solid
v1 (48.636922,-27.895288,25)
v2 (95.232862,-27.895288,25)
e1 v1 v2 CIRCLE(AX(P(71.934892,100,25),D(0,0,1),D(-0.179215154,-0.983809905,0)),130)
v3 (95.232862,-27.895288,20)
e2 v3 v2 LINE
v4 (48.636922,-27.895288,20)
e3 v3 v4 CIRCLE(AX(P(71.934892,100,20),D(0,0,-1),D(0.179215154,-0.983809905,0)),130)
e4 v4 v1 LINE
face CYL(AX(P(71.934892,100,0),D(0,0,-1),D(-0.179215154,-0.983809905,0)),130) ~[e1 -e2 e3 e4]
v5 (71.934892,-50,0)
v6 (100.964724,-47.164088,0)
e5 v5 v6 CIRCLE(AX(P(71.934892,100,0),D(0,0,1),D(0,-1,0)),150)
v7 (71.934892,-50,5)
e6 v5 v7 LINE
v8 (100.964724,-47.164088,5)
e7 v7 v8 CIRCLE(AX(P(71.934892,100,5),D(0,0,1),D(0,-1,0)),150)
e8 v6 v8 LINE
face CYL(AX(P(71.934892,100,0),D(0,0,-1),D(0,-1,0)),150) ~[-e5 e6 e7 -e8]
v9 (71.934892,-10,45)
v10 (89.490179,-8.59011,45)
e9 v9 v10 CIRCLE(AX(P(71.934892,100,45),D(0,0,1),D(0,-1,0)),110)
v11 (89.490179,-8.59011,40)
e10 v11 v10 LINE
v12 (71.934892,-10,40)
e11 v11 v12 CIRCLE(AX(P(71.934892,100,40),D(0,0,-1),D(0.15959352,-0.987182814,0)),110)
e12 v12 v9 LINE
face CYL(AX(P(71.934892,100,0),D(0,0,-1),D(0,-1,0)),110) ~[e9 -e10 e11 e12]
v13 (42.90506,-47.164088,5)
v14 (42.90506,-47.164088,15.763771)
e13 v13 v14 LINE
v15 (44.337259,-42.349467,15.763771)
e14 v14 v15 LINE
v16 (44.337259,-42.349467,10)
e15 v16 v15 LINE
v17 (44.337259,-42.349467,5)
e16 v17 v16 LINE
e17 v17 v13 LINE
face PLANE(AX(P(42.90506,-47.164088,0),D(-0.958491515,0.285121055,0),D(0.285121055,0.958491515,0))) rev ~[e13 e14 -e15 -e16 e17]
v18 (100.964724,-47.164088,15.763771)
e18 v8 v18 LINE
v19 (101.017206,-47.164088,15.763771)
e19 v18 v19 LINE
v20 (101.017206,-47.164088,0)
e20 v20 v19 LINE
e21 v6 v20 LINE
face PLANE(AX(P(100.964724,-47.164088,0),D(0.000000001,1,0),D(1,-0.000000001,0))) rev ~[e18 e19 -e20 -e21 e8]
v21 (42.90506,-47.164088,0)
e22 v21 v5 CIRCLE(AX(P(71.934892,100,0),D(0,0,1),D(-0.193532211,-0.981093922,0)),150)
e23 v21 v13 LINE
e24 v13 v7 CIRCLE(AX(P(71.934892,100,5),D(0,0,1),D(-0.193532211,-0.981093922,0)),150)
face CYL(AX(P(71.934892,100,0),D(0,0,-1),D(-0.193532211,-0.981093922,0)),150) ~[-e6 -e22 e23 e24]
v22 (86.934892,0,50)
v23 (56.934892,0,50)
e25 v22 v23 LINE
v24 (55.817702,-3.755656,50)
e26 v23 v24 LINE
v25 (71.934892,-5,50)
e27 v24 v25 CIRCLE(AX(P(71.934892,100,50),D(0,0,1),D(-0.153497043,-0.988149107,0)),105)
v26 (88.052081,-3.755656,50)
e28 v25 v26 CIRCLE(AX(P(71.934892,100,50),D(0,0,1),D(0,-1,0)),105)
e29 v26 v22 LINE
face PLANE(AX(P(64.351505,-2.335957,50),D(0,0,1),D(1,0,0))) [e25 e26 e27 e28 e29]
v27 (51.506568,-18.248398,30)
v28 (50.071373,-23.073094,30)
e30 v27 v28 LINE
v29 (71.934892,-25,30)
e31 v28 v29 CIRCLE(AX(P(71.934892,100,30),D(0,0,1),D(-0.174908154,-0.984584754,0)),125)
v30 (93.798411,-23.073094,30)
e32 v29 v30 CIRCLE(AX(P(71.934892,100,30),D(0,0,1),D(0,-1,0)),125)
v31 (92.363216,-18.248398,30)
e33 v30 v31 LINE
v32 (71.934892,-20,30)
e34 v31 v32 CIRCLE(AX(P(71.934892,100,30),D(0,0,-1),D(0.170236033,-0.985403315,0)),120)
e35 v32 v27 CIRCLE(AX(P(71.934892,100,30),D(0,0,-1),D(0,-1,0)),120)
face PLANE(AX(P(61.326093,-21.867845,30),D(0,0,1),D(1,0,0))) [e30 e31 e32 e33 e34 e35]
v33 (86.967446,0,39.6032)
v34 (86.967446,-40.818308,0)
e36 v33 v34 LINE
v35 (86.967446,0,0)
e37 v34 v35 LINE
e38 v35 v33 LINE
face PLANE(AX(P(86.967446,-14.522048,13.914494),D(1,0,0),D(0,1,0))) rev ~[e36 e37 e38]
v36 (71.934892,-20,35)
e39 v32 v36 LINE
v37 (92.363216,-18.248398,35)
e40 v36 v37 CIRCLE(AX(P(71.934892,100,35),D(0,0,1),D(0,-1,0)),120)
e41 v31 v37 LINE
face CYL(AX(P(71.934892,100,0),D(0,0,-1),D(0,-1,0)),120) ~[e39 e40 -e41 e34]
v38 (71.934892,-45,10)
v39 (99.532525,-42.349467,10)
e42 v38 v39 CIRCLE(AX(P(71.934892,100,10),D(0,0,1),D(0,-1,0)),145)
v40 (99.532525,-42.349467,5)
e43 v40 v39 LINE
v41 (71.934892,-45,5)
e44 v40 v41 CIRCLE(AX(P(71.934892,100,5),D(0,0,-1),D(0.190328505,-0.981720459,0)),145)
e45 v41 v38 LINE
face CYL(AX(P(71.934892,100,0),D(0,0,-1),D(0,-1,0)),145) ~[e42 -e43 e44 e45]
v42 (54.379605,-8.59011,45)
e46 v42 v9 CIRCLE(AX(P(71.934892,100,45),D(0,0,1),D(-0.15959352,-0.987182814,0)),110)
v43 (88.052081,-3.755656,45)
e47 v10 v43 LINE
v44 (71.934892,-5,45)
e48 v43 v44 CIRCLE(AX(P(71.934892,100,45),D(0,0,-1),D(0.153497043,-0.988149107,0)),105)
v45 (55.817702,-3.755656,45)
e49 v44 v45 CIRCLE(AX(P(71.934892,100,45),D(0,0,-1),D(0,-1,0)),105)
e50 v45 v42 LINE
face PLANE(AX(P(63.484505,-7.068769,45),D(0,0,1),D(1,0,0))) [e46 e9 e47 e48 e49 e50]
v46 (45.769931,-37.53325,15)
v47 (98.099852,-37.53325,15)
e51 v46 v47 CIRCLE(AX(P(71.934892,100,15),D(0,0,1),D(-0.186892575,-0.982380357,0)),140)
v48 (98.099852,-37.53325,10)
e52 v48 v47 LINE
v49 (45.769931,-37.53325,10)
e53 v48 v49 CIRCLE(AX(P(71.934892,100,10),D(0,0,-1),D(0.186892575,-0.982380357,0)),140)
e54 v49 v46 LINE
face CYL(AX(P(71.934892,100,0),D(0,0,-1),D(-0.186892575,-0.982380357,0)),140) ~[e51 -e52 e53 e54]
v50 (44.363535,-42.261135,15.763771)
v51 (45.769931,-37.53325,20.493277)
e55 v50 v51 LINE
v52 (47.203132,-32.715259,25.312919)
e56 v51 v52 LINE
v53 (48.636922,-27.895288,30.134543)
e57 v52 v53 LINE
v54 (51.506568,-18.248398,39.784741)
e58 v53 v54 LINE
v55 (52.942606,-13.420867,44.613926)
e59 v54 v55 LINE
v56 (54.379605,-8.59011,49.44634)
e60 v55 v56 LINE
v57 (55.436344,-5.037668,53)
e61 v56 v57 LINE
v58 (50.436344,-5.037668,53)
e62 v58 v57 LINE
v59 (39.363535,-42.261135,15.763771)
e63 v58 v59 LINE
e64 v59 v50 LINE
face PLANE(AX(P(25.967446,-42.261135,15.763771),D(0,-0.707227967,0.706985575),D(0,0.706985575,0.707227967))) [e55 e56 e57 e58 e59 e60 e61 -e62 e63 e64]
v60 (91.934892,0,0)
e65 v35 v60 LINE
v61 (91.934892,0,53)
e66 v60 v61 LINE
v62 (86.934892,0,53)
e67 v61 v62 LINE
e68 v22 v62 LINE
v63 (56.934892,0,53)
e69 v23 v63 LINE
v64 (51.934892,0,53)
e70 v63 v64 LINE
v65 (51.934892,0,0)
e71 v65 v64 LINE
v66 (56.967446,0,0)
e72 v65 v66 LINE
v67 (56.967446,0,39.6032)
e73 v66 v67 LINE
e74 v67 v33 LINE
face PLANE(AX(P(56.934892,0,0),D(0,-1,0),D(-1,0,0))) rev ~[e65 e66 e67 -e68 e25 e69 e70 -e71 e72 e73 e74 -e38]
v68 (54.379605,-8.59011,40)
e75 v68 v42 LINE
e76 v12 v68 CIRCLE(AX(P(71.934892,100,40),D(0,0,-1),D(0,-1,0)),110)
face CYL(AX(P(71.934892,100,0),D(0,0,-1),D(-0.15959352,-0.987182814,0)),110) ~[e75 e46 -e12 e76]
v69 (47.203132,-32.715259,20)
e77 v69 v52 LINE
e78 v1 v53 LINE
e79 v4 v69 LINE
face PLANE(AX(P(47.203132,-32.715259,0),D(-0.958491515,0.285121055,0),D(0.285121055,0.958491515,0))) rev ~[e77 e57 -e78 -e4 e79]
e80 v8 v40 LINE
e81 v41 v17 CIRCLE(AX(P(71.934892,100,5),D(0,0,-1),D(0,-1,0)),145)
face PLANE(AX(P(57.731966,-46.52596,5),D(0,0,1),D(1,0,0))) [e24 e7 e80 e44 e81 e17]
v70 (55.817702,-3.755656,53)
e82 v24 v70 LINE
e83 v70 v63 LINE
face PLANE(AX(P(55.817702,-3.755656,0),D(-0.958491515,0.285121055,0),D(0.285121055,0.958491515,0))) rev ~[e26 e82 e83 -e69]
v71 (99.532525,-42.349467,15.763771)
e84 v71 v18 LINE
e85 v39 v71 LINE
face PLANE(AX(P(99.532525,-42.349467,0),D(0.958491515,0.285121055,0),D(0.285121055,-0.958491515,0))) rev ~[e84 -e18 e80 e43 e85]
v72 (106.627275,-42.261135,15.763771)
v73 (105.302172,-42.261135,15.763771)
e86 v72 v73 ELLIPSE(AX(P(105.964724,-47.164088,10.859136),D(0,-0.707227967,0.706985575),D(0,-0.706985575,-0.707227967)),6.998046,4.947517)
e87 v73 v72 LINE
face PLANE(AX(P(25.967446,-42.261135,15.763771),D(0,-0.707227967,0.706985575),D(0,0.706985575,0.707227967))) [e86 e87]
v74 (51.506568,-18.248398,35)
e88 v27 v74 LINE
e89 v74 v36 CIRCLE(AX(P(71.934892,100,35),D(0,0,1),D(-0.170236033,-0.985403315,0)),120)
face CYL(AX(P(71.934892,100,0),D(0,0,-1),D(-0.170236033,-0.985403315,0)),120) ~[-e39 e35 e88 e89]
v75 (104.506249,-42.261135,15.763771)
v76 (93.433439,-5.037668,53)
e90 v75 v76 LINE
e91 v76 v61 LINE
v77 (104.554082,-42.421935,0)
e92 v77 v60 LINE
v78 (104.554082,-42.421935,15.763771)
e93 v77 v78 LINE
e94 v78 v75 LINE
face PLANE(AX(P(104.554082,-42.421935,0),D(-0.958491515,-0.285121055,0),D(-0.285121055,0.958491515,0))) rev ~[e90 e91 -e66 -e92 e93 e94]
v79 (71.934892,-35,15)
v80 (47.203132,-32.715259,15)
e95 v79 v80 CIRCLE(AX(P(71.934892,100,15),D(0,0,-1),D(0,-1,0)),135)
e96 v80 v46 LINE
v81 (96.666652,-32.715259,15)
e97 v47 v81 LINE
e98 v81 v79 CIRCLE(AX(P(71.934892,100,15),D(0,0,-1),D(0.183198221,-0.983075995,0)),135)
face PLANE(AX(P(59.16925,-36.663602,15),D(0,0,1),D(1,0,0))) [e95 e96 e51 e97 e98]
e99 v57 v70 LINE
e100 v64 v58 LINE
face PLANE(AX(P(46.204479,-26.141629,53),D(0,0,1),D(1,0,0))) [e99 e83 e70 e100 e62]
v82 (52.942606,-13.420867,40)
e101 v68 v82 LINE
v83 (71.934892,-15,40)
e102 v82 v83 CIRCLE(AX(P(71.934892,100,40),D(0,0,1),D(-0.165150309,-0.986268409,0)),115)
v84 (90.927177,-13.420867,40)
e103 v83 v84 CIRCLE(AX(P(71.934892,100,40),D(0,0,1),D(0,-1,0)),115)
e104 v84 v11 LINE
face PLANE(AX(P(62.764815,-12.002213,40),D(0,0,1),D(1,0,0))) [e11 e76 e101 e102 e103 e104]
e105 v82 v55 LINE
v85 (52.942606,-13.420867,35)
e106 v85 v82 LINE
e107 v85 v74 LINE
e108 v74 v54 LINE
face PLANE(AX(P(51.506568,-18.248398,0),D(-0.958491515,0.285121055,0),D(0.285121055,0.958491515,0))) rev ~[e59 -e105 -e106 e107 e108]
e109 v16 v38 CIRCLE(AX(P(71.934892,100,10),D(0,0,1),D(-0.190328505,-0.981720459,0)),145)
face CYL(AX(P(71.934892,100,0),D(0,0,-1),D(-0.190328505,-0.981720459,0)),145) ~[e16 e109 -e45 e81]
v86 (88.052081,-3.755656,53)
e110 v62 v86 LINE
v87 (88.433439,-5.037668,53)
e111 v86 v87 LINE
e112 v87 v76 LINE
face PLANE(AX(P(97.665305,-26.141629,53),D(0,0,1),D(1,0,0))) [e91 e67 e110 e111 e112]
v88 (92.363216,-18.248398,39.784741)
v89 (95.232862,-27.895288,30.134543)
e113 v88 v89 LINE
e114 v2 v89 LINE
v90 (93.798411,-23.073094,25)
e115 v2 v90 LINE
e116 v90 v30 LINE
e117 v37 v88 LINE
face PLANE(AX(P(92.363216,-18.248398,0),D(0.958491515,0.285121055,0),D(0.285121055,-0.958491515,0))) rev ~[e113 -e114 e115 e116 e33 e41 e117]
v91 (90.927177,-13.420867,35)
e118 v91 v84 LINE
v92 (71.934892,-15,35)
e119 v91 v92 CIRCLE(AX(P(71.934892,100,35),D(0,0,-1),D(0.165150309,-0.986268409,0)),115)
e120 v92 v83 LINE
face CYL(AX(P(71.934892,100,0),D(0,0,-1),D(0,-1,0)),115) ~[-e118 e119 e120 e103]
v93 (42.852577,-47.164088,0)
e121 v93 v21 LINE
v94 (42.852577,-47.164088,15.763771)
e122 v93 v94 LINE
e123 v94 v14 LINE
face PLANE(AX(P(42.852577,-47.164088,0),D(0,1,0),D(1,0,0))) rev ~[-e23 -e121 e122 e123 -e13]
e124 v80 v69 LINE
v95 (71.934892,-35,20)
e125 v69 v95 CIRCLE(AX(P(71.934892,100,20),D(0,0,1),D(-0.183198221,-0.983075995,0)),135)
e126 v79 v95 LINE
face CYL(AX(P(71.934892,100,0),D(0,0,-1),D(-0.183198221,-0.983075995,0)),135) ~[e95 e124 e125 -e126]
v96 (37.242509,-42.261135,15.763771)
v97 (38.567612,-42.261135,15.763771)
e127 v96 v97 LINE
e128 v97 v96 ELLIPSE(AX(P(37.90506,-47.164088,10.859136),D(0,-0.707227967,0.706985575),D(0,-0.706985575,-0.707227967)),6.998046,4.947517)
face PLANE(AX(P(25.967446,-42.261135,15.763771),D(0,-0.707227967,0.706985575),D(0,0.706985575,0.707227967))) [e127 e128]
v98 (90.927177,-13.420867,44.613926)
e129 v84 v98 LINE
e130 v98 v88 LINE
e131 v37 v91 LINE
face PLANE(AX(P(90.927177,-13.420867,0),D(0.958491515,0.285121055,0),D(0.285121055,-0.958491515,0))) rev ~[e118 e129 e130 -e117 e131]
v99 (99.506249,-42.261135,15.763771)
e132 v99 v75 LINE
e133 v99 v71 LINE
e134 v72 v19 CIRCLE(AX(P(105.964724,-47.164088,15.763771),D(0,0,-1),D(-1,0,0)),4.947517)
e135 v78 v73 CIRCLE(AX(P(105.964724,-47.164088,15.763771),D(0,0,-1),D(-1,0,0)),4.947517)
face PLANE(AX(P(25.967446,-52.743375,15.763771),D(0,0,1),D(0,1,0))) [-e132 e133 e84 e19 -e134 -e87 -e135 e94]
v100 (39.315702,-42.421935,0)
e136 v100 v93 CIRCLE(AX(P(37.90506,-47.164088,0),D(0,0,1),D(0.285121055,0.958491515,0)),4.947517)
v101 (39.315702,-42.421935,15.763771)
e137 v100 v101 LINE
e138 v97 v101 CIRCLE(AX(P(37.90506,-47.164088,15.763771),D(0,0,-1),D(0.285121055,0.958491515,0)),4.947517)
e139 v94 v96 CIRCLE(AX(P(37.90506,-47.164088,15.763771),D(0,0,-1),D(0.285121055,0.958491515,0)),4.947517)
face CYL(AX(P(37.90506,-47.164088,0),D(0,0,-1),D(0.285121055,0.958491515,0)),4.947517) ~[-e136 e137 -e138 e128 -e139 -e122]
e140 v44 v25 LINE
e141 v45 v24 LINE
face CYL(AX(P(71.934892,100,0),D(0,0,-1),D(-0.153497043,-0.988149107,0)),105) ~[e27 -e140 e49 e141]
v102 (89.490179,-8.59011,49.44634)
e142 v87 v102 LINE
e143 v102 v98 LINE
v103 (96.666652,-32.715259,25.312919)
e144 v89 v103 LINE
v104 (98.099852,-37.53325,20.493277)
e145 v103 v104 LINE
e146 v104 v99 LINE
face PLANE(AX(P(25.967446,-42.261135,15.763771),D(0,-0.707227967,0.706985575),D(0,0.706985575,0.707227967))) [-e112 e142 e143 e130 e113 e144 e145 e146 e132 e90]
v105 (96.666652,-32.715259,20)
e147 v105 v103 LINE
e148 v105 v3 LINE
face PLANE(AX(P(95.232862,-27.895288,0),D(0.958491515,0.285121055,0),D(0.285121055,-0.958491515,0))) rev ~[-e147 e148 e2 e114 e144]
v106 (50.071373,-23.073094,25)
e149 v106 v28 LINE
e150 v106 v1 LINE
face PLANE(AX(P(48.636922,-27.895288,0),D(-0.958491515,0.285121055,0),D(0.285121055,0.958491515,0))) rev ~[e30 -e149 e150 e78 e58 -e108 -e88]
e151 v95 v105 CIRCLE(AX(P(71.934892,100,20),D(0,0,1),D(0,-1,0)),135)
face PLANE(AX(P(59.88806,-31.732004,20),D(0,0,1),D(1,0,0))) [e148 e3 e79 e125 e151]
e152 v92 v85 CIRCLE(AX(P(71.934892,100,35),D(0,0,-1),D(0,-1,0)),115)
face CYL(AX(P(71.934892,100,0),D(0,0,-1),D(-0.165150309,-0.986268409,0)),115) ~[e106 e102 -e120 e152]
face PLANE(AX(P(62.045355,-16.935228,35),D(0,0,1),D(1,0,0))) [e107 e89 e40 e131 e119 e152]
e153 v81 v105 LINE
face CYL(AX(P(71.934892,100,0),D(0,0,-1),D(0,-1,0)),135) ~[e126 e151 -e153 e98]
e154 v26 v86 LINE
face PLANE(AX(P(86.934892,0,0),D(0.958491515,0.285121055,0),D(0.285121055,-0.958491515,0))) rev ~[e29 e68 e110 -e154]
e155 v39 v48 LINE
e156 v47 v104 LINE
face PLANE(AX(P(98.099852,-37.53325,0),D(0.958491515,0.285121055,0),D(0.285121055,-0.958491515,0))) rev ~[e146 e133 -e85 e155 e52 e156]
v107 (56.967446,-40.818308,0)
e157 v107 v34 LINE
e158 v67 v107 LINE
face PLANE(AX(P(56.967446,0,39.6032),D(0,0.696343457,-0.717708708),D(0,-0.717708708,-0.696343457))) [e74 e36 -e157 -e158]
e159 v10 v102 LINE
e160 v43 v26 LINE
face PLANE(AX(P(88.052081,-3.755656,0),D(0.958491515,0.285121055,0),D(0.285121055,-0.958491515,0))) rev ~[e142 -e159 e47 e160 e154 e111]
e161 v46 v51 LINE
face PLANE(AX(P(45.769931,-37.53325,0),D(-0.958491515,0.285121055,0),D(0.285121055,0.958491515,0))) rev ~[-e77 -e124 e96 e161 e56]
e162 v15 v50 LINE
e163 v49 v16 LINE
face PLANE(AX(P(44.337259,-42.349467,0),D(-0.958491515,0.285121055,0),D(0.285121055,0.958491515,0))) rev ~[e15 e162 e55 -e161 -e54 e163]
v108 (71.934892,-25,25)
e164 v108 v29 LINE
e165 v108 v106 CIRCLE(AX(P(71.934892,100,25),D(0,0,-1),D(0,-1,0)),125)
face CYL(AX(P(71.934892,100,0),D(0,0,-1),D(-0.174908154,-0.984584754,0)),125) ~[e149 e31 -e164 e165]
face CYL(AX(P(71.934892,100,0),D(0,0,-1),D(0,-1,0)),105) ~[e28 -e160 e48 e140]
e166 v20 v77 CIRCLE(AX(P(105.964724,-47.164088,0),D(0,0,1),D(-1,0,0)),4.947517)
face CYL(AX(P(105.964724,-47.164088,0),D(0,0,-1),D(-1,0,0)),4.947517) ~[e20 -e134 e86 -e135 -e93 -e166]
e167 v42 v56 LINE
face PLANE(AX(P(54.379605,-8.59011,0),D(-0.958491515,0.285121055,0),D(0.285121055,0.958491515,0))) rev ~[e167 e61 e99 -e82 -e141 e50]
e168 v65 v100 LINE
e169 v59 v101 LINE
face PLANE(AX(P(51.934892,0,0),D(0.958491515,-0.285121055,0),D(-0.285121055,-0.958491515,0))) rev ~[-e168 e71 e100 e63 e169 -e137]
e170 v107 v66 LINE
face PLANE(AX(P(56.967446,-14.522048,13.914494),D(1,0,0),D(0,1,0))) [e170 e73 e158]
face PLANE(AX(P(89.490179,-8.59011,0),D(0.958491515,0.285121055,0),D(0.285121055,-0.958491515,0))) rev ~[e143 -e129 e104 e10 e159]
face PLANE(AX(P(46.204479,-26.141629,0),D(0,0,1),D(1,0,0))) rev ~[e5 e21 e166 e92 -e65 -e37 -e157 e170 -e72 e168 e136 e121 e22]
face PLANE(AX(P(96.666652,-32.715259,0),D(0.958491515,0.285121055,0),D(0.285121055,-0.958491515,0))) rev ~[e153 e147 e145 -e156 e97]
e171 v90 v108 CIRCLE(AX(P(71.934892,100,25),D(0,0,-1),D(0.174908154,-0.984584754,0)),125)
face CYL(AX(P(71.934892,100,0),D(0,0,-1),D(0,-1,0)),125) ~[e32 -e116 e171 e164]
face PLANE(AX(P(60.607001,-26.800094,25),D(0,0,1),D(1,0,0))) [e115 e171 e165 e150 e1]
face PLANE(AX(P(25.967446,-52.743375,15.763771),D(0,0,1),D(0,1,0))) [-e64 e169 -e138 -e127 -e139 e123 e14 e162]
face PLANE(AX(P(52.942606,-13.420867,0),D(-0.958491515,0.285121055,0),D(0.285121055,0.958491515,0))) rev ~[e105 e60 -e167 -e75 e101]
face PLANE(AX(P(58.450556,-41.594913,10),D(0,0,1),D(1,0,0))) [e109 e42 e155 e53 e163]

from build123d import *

# Parameters (mm, degrees)
F1_DEPTH  = 10
F2_DEPTH  = 20
F3_DEPTH  = 30
F4_DEPTH  = 40
F5_DEPTH  = 50
F6_DEPTH  = 60
F7_DEPTH  = 70
F8_DEPTH  = 80
F9_DEPTH  = 90
F10_DEPTH = 100
F11_DEPTH = 106
F13_DEPTH = 200
F14_START = 62
F14_DEPTH = 60
F15_SCALE = 0.5


with BuildPart() as f1:
    # F0 (on Top) → F1 (new body)
    with BuildSketch(Plane.XY):
        with BuildLine():
            Line((36.7396253365, -84.6989331727), (33.8752285407, -94.3281765161))
            ThreePointArc((33.8752285407, -94.3281765161), (62.7668696335, -98.5786771982), (91.9348918938, -100))
            Line((91.9348918939, -100), (91.9348918939, -90))
            ThreePointArc((91.9348918938, -90), (64.2102694445, -88.6716912169), (36.7396253365, -84.6989331727))
        make_face()
        with BuildLine():
            Line((91.9348918939, -90), (91.9348918939, -100))
            ThreePointArc((91.9348918938, -100), (121.1029141542, -98.5786771982), (149.994555247, -94.3281765161))
            Line((149.994555247, -94.3281765161), (147.1301584512, -84.6989331727))
            ThreePointArc((147.1301584512, -84.6989331727), (119.6595143432, -88.6716912169), (91.9348918938, -90))
        make_face()
    extrude(amount=F1_DEPTH)

    # F0 (on Top) → F2 (join)
    with BuildSketch(Plane.XY):
        with BuildLine():
            Line((39.6049710277, -75.0664999271), (36.7396253365, -84.6989331727))
            ThreePointArc((36.7396253365, -84.6989331727), (64.2102694445, -88.6716912169), (91.9348918938, -90))
            Line((91.9348918939, -90), (91.9348918939, -80))
            ThreePointArc((91.9348918938, -80), (65.6539099829, -78.7638964963), (39.6049710277, -75.0664999271))
        make_face()
        with BuildLine():
            Line((91.9348918939, -80), (91.9348918939, -90))
            ThreePointArc((91.9348918938, -90), (119.6595143432, -88.6716912169), (147.1301584512, -84.6989331727))
            Line((147.1301584512, -84.6989331727), (144.26481276, -75.0664999271))
            ThreePointArc((144.26481276, -75.0664999271), (118.2158738048, -78.7638964963), (91.9348918938, -80))
        make_face()
    extrude(amount=F2_DEPTH)

    # F0 (on Top) → F3 (join)
    with BuildSketch(Plane.XY):
        with BuildLine():
            Line((42.4713721555, -65.4305186204), (39.6049710277, -75.0664999271))
            ThreePointArc((39.6049710277, -75.0664999271), (65.6539099829, -78.7638964963), (91.9348918938, -80))
            Line((91.9348918939, -80), (91.9348918939, -70))
            ThreePointArc((91.9348918938, -70), (67.0978231005, -68.8552026905), (42.4713721555, -65.4305186204))
        make_face()
        with BuildLine():
            Line((91.9348918939, -70), (91.9348918939, -80))
            ThreePointArc((91.9348918938, -80), (118.2158738048, -78.7638964963), (144.26481276, -75.0664999271))
            Line((144.26481276, -75.0664999271), (141.3984116322, -65.4305186204))
            ThreePointArc((141.3984116322, -65.4305186204), (116.7719606872, -68.8552026905), (91.9348918938, -70))
        make_face()
    extrude(amount=F3_DEPTH)

    # F0 (on Top) → F4 (join)
    with BuildSketch(Plane.XY):
        with BuildLine():
            Line((45.3389518797, -55.7905752255), (42.4713721555, -65.4305186204))
            ThreePointArc((42.4713721555, -65.4305186204), (67.0978231005, -68.8552026905), (91.9348918938, -70))
            Line((91.9348918939, -70), (91.9348918939, -60))
            ThreePointArc((91.9348918938, -60), (68.5420463918, -58.945505424), (45.3389518797, -55.7905752255))
        make_face()
        with BuildLine():
            Line((91.9348918939, -60), (91.9348918939, -70))
            ThreePointArc((91.9348918938, -70), (116.7719606872, -68.8552026905), (141.3984116322, -65.4305186204))
            Line((141.3984116322, -65.4305186204), (138.530831908, -55.7905752255))
            ThreePointArc((138.530831908, -55.7905752255), (115.3277373959, -58.9455054241), (91.9348918938, -60))
        make_face()
    extrude(amount=F4_DEPTH)

    # F0 (on Top) → F5 (join)
    with BuildSketch(Plane.XY):
        with BuildLine():
            Line((48.2078533621, -46.146188476), (45.3389518797, -55.7905752255))
            ThreePointArc((45.3389518797, -55.7905752255), (68.5420463918, -58.945505424), (91.9348918938, -60))
            Line((91.9348918939, -60), (91.9348918939, -50))
            ThreePointArc((91.9348918938, -50), (69.9866245248, -49.0346834469), (48.2078533621, -46.146188476))
        make_face()
        with BuildLine():
            Line((91.9348918939, -50), (91.9348918939, -60))
            ThreePointArc((91.9348918938, -60), (115.3277373959, -58.9455054241), (138.530831908, -55.7905752255))
            Line((138.530831908, -55.7905752255), (135.6619304256, -46.146188476))
            ThreePointArc((135.6619304256, -46.146188476), (113.8831592629, -49.0346834469), (91.9348918938, -50))
        make_face()
    extrude(amount=F5_DEPTH)

    # F0 (on Top) → F6 (join)
    with BuildSketch(Plane.XY):
        with BuildLine():
            Line((51.0782440128, -36.4967955891), (48.2078533621, -46.146188476))
            ThreePointArc((48.2078533621, -46.146188476), (69.9866245248, -49.0346834469), (91.9348918938, -50))
            Line((91.9348918939, -50), (91.9348918939, -40))
            ThreePointArc((91.9348918938, -40), (71.4316109538, -39.1225950652), (51.0782440128, -36.4967955891))
        make_face()
        with BuildLine():
            Line((91.9348918939, -40), (91.9348918939, -50))
            ThreePointArc((91.9348918938, -50), (113.8831592629, -49.0346834469), (135.6619304256, -46.146188476))
            Line((135.6619304256, -46.146188476), (132.7915397749, -36.4967955891))
            ThreePointArc((132.7915397749, -36.4967955891), (112.4381728339, -39.1225950652), (91.9348918938, -40))
        make_face()
    extrude(amount=F6_DEPTH)

    # F0 (on Top) → F7 (join)
    with BuildSketch(Plane.XY):
        with BuildLine():
            Line((53.9503208714, -26.8417341766), (51.0782440128, -36.4967955891))
            ThreePointArc((51.0782440128, -36.4967955891), (71.4316109538, -39.1225950652), (91.9348918938, -40))
            Line((91.9348918939, -40), (91.9348918939, -30))
            ThreePointArc((91.9348918938, -30), (72.8770701481, -29.2090736212), (53.9503208714, -26.8417341766))
        make_face()
        with BuildLine():
            Line((91.9348918939, -30), (91.9348918939, -40))
            ThreePointArc((91.9348918938, -40), (112.4381728339, -39.1225950652), (132.7915397749, -36.4967955891))
            Line((132.7915397749, -36.4967955891), (129.9194629163, -26.8417341766))
            ThreePointArc((129.9194629163, -26.8417341766), (110.9927136396, -29.2090736212), (91.9348918938, -30))
        make_face()
    extrude(amount=F7_DEPTH)

    # F0 (on Top) → F8 (join)
    with BuildSketch(Plane.XY):
        with BuildLine():
            ThreePointArc((91.9348918938, -20), (74.323080523, -19.2939217129), (56.824317494, -17.1802190931))
            Line((56.824317494, -17.1802190931), (53.9503208714, -26.8417341766))
            ThreePointArc((53.9503208714, -26.8417341766), (72.8770701481, -29.2090736212), (91.9348918938, -30))
            Line((91.9348918939, -30), (91.9348918939, -20))
        make_face()
        with BuildLine():
            ThreePointArc((127.0454662937, -17.1802190931), (109.5467032647, -19.2939217129), (91.9348918938, -20))
            Line((91.9348918939, -20), (91.9348918939, -30))
            ThreePointArc((91.9348918938, -30), (110.9927136396, -29.2090736212), (129.9194629163, -26.8417341766))
            Line((129.9194629163, -26.8417341766), (127.0454662937, -17.1802190931))
        make_face()
    extrude(amount=F8_DEPTH)

    # F0 (on Top) → F9 (join)
    with BuildSketch(Plane.XY):
        with BuildLine():
            ThreePointArc((91.9348918938, -10), (75.7697383448, -9.3769037185), (59.7005128631, -7.5113124832))
            Line((59.7005128631, -7.5113124832), (56.824317494, -17.1802190931))
            ThreePointArc((56.824317494, -17.1802190931), (74.323080523, -19.2939217129), (91.9348918938, -20))
            Line((91.9348918939, -20), (91.9348918939, -10))
        make_face()
        with BuildLine():
            ThreePointArc((124.1692709246, -7.5113124832), (108.1000454429, -9.3769037185), (91.9348918938, -10))
            Line((91.9348918939, -10), (91.9348918939, -20))
            ThreePointArc((91.9348918938, -20), (109.5467032647, -19.2939217129), (127.0454662937, -17.1802190931))
            Line((127.0454662937, -17.1802190931), (124.1692709246, -7.5113124832))
        make_face()
    extrude(amount=F9_DEPTH)

    # F0 (on Top) → F10 (join)
    with BuildSketch(Plane.XY):
        with BuildLine():
            Line((91.9348918939, 0), (61.9348918939, 0))
            Line((61.9348918939, 0), (59.7005128631, -7.5113124832))
            ThreePointArc((59.7005128631, -7.5113124832), (75.7697383448, -9.3769037185), (91.9348918938, -10))
            Line((91.9348918939, -10), (91.9348918939, 0))
        make_face()
        with BuildLine():
            Line((121.9348918939, 0), (91.9348918939, 0))
            Line((91.9348918939, 0), (91.9348918939, -10))
            ThreePointArc((91.9348918938, -10), (108.1000454429, -9.3769037185), (124.1692709246, -7.5113124832))
            Line((124.1692709246, -7.5113124832), (121.9348918939, 0))
        make_face()
    extrude(amount=F10_DEPTH)

    # F0 (on Top) → F11 (join)
    with BuildSketch(Plane.XY):
        with BuildLine():
            Line((33.7702630603, -94.3281765161), (33.8752285407, -94.3281765161))
            Line((33.8752285407, -94.3281765161), (36.7396253365, -84.6989331727))
            Line((36.7396253365, -84.6989331727), (39.6049710277, -75.0664999271))
            Line((39.6049710277, -75.0664999271), (42.4713721555, -65.4305186204))
            Line((42.4713721555, -65.4305186204), (45.3389518797, -55.7905752255))
            Line((45.3389518797, -55.7905752255), (48.2078533621, -46.146188476))
            Line((48.2078533621, -46.146188476), (51.0782440128, -36.4967955891))
            Line((51.0782440128, -36.4967955891), (53.9503208714, -26.8417341766))
            Line((53.9503208714, -26.8417341766), (56.824317494, -17.1802190931))
            Line((56.824317494, -17.1802190931), (59.7005128631, -7.5113124832))
            Line((59.7005128631, -7.5113124832), (61.9348918939, 0))
            Line((61.9348918939, 0), (51.9348918939, 0))
            Line((51.9348918939, 0), (26.696511225, -84.843869891))
            ThreePointArc((26.696511225, -84.843869891), (15.9433814137, -100.2440457927), (33.7702630603, -94.3281765161))
        make_face()
        with BuildLine():
            Line((147.1301584512, -84.6989331727), (149.994555247, -94.3281765161))
            Line((149.994555247, -94.3281765161), (150.0995207274, -94.3281765162))
            ThreePointArc((150.0995207274, -94.3281765162), (167.926402374, -100.2440457927), (157.1732725628, -84.843869891))
            Line((157.1732725628, -84.843869891), (131.9348918939, 0))
            Line((131.9348918939, 0), (121.9348918939, 0))
            Line((121.9348918939, 0), (124.1692709246, -7.5113124832))
            Line((124.1692709246, -7.5113124832), (127.0454662937, -17.1802190931))
            Line((127.0454662937, -17.1802190931), (129.9194629163, -26.8417341766))
            Line((129.9194629163, -26.8417341766), (132.7915397749, -36.4967955891))
            Line((132.7915397749, -36.4967955891), (135.6619304256, -46.146188476))
            Line((135.6619304256, -46.146188476), (138.530831908, -55.7905752255))
            Line((138.530831908, -55.7905752255), (141.3984116322, -65.4305186204))
            Line((141.3984116322, -65.4305186204), (144.26481276, -75.0664999271))
            Line((144.26481276, -75.0664999271), (147.1301584512, -84.6989331727))
        make_face()
    extrude(amount=F11_DEPTH)

    # F12 (on Right) → F13 (cut)
    with BuildSketch(Plane.YZ):
        Polygon((-84.5222696662, 31.5275415778), (-10, 106.075361371), (-105.4867506027, 106.075361371), (-105.4867506027, 31.5275415778), align=None)
    extrude(amount=F13_DEPTH, mode=Mode.SUBTRACT)

    # F12 (on Right) → F14 (cut)
    with BuildSketch(Plane.YZ.offset(F14_START)):
        Polygon((0, 79.2063996196), (-81.6366150975, 0), (0, 0), align=None)
    extrude(amount=F14_DEPTH, mode=Mode.SUBTRACT)


with BuildPart() as f1_1:
    # F15: moved
    add(f1.part.scale(F15_SCALE).moved(Location((25.9674459469, 0, 0))))


solid = f1_1.part
